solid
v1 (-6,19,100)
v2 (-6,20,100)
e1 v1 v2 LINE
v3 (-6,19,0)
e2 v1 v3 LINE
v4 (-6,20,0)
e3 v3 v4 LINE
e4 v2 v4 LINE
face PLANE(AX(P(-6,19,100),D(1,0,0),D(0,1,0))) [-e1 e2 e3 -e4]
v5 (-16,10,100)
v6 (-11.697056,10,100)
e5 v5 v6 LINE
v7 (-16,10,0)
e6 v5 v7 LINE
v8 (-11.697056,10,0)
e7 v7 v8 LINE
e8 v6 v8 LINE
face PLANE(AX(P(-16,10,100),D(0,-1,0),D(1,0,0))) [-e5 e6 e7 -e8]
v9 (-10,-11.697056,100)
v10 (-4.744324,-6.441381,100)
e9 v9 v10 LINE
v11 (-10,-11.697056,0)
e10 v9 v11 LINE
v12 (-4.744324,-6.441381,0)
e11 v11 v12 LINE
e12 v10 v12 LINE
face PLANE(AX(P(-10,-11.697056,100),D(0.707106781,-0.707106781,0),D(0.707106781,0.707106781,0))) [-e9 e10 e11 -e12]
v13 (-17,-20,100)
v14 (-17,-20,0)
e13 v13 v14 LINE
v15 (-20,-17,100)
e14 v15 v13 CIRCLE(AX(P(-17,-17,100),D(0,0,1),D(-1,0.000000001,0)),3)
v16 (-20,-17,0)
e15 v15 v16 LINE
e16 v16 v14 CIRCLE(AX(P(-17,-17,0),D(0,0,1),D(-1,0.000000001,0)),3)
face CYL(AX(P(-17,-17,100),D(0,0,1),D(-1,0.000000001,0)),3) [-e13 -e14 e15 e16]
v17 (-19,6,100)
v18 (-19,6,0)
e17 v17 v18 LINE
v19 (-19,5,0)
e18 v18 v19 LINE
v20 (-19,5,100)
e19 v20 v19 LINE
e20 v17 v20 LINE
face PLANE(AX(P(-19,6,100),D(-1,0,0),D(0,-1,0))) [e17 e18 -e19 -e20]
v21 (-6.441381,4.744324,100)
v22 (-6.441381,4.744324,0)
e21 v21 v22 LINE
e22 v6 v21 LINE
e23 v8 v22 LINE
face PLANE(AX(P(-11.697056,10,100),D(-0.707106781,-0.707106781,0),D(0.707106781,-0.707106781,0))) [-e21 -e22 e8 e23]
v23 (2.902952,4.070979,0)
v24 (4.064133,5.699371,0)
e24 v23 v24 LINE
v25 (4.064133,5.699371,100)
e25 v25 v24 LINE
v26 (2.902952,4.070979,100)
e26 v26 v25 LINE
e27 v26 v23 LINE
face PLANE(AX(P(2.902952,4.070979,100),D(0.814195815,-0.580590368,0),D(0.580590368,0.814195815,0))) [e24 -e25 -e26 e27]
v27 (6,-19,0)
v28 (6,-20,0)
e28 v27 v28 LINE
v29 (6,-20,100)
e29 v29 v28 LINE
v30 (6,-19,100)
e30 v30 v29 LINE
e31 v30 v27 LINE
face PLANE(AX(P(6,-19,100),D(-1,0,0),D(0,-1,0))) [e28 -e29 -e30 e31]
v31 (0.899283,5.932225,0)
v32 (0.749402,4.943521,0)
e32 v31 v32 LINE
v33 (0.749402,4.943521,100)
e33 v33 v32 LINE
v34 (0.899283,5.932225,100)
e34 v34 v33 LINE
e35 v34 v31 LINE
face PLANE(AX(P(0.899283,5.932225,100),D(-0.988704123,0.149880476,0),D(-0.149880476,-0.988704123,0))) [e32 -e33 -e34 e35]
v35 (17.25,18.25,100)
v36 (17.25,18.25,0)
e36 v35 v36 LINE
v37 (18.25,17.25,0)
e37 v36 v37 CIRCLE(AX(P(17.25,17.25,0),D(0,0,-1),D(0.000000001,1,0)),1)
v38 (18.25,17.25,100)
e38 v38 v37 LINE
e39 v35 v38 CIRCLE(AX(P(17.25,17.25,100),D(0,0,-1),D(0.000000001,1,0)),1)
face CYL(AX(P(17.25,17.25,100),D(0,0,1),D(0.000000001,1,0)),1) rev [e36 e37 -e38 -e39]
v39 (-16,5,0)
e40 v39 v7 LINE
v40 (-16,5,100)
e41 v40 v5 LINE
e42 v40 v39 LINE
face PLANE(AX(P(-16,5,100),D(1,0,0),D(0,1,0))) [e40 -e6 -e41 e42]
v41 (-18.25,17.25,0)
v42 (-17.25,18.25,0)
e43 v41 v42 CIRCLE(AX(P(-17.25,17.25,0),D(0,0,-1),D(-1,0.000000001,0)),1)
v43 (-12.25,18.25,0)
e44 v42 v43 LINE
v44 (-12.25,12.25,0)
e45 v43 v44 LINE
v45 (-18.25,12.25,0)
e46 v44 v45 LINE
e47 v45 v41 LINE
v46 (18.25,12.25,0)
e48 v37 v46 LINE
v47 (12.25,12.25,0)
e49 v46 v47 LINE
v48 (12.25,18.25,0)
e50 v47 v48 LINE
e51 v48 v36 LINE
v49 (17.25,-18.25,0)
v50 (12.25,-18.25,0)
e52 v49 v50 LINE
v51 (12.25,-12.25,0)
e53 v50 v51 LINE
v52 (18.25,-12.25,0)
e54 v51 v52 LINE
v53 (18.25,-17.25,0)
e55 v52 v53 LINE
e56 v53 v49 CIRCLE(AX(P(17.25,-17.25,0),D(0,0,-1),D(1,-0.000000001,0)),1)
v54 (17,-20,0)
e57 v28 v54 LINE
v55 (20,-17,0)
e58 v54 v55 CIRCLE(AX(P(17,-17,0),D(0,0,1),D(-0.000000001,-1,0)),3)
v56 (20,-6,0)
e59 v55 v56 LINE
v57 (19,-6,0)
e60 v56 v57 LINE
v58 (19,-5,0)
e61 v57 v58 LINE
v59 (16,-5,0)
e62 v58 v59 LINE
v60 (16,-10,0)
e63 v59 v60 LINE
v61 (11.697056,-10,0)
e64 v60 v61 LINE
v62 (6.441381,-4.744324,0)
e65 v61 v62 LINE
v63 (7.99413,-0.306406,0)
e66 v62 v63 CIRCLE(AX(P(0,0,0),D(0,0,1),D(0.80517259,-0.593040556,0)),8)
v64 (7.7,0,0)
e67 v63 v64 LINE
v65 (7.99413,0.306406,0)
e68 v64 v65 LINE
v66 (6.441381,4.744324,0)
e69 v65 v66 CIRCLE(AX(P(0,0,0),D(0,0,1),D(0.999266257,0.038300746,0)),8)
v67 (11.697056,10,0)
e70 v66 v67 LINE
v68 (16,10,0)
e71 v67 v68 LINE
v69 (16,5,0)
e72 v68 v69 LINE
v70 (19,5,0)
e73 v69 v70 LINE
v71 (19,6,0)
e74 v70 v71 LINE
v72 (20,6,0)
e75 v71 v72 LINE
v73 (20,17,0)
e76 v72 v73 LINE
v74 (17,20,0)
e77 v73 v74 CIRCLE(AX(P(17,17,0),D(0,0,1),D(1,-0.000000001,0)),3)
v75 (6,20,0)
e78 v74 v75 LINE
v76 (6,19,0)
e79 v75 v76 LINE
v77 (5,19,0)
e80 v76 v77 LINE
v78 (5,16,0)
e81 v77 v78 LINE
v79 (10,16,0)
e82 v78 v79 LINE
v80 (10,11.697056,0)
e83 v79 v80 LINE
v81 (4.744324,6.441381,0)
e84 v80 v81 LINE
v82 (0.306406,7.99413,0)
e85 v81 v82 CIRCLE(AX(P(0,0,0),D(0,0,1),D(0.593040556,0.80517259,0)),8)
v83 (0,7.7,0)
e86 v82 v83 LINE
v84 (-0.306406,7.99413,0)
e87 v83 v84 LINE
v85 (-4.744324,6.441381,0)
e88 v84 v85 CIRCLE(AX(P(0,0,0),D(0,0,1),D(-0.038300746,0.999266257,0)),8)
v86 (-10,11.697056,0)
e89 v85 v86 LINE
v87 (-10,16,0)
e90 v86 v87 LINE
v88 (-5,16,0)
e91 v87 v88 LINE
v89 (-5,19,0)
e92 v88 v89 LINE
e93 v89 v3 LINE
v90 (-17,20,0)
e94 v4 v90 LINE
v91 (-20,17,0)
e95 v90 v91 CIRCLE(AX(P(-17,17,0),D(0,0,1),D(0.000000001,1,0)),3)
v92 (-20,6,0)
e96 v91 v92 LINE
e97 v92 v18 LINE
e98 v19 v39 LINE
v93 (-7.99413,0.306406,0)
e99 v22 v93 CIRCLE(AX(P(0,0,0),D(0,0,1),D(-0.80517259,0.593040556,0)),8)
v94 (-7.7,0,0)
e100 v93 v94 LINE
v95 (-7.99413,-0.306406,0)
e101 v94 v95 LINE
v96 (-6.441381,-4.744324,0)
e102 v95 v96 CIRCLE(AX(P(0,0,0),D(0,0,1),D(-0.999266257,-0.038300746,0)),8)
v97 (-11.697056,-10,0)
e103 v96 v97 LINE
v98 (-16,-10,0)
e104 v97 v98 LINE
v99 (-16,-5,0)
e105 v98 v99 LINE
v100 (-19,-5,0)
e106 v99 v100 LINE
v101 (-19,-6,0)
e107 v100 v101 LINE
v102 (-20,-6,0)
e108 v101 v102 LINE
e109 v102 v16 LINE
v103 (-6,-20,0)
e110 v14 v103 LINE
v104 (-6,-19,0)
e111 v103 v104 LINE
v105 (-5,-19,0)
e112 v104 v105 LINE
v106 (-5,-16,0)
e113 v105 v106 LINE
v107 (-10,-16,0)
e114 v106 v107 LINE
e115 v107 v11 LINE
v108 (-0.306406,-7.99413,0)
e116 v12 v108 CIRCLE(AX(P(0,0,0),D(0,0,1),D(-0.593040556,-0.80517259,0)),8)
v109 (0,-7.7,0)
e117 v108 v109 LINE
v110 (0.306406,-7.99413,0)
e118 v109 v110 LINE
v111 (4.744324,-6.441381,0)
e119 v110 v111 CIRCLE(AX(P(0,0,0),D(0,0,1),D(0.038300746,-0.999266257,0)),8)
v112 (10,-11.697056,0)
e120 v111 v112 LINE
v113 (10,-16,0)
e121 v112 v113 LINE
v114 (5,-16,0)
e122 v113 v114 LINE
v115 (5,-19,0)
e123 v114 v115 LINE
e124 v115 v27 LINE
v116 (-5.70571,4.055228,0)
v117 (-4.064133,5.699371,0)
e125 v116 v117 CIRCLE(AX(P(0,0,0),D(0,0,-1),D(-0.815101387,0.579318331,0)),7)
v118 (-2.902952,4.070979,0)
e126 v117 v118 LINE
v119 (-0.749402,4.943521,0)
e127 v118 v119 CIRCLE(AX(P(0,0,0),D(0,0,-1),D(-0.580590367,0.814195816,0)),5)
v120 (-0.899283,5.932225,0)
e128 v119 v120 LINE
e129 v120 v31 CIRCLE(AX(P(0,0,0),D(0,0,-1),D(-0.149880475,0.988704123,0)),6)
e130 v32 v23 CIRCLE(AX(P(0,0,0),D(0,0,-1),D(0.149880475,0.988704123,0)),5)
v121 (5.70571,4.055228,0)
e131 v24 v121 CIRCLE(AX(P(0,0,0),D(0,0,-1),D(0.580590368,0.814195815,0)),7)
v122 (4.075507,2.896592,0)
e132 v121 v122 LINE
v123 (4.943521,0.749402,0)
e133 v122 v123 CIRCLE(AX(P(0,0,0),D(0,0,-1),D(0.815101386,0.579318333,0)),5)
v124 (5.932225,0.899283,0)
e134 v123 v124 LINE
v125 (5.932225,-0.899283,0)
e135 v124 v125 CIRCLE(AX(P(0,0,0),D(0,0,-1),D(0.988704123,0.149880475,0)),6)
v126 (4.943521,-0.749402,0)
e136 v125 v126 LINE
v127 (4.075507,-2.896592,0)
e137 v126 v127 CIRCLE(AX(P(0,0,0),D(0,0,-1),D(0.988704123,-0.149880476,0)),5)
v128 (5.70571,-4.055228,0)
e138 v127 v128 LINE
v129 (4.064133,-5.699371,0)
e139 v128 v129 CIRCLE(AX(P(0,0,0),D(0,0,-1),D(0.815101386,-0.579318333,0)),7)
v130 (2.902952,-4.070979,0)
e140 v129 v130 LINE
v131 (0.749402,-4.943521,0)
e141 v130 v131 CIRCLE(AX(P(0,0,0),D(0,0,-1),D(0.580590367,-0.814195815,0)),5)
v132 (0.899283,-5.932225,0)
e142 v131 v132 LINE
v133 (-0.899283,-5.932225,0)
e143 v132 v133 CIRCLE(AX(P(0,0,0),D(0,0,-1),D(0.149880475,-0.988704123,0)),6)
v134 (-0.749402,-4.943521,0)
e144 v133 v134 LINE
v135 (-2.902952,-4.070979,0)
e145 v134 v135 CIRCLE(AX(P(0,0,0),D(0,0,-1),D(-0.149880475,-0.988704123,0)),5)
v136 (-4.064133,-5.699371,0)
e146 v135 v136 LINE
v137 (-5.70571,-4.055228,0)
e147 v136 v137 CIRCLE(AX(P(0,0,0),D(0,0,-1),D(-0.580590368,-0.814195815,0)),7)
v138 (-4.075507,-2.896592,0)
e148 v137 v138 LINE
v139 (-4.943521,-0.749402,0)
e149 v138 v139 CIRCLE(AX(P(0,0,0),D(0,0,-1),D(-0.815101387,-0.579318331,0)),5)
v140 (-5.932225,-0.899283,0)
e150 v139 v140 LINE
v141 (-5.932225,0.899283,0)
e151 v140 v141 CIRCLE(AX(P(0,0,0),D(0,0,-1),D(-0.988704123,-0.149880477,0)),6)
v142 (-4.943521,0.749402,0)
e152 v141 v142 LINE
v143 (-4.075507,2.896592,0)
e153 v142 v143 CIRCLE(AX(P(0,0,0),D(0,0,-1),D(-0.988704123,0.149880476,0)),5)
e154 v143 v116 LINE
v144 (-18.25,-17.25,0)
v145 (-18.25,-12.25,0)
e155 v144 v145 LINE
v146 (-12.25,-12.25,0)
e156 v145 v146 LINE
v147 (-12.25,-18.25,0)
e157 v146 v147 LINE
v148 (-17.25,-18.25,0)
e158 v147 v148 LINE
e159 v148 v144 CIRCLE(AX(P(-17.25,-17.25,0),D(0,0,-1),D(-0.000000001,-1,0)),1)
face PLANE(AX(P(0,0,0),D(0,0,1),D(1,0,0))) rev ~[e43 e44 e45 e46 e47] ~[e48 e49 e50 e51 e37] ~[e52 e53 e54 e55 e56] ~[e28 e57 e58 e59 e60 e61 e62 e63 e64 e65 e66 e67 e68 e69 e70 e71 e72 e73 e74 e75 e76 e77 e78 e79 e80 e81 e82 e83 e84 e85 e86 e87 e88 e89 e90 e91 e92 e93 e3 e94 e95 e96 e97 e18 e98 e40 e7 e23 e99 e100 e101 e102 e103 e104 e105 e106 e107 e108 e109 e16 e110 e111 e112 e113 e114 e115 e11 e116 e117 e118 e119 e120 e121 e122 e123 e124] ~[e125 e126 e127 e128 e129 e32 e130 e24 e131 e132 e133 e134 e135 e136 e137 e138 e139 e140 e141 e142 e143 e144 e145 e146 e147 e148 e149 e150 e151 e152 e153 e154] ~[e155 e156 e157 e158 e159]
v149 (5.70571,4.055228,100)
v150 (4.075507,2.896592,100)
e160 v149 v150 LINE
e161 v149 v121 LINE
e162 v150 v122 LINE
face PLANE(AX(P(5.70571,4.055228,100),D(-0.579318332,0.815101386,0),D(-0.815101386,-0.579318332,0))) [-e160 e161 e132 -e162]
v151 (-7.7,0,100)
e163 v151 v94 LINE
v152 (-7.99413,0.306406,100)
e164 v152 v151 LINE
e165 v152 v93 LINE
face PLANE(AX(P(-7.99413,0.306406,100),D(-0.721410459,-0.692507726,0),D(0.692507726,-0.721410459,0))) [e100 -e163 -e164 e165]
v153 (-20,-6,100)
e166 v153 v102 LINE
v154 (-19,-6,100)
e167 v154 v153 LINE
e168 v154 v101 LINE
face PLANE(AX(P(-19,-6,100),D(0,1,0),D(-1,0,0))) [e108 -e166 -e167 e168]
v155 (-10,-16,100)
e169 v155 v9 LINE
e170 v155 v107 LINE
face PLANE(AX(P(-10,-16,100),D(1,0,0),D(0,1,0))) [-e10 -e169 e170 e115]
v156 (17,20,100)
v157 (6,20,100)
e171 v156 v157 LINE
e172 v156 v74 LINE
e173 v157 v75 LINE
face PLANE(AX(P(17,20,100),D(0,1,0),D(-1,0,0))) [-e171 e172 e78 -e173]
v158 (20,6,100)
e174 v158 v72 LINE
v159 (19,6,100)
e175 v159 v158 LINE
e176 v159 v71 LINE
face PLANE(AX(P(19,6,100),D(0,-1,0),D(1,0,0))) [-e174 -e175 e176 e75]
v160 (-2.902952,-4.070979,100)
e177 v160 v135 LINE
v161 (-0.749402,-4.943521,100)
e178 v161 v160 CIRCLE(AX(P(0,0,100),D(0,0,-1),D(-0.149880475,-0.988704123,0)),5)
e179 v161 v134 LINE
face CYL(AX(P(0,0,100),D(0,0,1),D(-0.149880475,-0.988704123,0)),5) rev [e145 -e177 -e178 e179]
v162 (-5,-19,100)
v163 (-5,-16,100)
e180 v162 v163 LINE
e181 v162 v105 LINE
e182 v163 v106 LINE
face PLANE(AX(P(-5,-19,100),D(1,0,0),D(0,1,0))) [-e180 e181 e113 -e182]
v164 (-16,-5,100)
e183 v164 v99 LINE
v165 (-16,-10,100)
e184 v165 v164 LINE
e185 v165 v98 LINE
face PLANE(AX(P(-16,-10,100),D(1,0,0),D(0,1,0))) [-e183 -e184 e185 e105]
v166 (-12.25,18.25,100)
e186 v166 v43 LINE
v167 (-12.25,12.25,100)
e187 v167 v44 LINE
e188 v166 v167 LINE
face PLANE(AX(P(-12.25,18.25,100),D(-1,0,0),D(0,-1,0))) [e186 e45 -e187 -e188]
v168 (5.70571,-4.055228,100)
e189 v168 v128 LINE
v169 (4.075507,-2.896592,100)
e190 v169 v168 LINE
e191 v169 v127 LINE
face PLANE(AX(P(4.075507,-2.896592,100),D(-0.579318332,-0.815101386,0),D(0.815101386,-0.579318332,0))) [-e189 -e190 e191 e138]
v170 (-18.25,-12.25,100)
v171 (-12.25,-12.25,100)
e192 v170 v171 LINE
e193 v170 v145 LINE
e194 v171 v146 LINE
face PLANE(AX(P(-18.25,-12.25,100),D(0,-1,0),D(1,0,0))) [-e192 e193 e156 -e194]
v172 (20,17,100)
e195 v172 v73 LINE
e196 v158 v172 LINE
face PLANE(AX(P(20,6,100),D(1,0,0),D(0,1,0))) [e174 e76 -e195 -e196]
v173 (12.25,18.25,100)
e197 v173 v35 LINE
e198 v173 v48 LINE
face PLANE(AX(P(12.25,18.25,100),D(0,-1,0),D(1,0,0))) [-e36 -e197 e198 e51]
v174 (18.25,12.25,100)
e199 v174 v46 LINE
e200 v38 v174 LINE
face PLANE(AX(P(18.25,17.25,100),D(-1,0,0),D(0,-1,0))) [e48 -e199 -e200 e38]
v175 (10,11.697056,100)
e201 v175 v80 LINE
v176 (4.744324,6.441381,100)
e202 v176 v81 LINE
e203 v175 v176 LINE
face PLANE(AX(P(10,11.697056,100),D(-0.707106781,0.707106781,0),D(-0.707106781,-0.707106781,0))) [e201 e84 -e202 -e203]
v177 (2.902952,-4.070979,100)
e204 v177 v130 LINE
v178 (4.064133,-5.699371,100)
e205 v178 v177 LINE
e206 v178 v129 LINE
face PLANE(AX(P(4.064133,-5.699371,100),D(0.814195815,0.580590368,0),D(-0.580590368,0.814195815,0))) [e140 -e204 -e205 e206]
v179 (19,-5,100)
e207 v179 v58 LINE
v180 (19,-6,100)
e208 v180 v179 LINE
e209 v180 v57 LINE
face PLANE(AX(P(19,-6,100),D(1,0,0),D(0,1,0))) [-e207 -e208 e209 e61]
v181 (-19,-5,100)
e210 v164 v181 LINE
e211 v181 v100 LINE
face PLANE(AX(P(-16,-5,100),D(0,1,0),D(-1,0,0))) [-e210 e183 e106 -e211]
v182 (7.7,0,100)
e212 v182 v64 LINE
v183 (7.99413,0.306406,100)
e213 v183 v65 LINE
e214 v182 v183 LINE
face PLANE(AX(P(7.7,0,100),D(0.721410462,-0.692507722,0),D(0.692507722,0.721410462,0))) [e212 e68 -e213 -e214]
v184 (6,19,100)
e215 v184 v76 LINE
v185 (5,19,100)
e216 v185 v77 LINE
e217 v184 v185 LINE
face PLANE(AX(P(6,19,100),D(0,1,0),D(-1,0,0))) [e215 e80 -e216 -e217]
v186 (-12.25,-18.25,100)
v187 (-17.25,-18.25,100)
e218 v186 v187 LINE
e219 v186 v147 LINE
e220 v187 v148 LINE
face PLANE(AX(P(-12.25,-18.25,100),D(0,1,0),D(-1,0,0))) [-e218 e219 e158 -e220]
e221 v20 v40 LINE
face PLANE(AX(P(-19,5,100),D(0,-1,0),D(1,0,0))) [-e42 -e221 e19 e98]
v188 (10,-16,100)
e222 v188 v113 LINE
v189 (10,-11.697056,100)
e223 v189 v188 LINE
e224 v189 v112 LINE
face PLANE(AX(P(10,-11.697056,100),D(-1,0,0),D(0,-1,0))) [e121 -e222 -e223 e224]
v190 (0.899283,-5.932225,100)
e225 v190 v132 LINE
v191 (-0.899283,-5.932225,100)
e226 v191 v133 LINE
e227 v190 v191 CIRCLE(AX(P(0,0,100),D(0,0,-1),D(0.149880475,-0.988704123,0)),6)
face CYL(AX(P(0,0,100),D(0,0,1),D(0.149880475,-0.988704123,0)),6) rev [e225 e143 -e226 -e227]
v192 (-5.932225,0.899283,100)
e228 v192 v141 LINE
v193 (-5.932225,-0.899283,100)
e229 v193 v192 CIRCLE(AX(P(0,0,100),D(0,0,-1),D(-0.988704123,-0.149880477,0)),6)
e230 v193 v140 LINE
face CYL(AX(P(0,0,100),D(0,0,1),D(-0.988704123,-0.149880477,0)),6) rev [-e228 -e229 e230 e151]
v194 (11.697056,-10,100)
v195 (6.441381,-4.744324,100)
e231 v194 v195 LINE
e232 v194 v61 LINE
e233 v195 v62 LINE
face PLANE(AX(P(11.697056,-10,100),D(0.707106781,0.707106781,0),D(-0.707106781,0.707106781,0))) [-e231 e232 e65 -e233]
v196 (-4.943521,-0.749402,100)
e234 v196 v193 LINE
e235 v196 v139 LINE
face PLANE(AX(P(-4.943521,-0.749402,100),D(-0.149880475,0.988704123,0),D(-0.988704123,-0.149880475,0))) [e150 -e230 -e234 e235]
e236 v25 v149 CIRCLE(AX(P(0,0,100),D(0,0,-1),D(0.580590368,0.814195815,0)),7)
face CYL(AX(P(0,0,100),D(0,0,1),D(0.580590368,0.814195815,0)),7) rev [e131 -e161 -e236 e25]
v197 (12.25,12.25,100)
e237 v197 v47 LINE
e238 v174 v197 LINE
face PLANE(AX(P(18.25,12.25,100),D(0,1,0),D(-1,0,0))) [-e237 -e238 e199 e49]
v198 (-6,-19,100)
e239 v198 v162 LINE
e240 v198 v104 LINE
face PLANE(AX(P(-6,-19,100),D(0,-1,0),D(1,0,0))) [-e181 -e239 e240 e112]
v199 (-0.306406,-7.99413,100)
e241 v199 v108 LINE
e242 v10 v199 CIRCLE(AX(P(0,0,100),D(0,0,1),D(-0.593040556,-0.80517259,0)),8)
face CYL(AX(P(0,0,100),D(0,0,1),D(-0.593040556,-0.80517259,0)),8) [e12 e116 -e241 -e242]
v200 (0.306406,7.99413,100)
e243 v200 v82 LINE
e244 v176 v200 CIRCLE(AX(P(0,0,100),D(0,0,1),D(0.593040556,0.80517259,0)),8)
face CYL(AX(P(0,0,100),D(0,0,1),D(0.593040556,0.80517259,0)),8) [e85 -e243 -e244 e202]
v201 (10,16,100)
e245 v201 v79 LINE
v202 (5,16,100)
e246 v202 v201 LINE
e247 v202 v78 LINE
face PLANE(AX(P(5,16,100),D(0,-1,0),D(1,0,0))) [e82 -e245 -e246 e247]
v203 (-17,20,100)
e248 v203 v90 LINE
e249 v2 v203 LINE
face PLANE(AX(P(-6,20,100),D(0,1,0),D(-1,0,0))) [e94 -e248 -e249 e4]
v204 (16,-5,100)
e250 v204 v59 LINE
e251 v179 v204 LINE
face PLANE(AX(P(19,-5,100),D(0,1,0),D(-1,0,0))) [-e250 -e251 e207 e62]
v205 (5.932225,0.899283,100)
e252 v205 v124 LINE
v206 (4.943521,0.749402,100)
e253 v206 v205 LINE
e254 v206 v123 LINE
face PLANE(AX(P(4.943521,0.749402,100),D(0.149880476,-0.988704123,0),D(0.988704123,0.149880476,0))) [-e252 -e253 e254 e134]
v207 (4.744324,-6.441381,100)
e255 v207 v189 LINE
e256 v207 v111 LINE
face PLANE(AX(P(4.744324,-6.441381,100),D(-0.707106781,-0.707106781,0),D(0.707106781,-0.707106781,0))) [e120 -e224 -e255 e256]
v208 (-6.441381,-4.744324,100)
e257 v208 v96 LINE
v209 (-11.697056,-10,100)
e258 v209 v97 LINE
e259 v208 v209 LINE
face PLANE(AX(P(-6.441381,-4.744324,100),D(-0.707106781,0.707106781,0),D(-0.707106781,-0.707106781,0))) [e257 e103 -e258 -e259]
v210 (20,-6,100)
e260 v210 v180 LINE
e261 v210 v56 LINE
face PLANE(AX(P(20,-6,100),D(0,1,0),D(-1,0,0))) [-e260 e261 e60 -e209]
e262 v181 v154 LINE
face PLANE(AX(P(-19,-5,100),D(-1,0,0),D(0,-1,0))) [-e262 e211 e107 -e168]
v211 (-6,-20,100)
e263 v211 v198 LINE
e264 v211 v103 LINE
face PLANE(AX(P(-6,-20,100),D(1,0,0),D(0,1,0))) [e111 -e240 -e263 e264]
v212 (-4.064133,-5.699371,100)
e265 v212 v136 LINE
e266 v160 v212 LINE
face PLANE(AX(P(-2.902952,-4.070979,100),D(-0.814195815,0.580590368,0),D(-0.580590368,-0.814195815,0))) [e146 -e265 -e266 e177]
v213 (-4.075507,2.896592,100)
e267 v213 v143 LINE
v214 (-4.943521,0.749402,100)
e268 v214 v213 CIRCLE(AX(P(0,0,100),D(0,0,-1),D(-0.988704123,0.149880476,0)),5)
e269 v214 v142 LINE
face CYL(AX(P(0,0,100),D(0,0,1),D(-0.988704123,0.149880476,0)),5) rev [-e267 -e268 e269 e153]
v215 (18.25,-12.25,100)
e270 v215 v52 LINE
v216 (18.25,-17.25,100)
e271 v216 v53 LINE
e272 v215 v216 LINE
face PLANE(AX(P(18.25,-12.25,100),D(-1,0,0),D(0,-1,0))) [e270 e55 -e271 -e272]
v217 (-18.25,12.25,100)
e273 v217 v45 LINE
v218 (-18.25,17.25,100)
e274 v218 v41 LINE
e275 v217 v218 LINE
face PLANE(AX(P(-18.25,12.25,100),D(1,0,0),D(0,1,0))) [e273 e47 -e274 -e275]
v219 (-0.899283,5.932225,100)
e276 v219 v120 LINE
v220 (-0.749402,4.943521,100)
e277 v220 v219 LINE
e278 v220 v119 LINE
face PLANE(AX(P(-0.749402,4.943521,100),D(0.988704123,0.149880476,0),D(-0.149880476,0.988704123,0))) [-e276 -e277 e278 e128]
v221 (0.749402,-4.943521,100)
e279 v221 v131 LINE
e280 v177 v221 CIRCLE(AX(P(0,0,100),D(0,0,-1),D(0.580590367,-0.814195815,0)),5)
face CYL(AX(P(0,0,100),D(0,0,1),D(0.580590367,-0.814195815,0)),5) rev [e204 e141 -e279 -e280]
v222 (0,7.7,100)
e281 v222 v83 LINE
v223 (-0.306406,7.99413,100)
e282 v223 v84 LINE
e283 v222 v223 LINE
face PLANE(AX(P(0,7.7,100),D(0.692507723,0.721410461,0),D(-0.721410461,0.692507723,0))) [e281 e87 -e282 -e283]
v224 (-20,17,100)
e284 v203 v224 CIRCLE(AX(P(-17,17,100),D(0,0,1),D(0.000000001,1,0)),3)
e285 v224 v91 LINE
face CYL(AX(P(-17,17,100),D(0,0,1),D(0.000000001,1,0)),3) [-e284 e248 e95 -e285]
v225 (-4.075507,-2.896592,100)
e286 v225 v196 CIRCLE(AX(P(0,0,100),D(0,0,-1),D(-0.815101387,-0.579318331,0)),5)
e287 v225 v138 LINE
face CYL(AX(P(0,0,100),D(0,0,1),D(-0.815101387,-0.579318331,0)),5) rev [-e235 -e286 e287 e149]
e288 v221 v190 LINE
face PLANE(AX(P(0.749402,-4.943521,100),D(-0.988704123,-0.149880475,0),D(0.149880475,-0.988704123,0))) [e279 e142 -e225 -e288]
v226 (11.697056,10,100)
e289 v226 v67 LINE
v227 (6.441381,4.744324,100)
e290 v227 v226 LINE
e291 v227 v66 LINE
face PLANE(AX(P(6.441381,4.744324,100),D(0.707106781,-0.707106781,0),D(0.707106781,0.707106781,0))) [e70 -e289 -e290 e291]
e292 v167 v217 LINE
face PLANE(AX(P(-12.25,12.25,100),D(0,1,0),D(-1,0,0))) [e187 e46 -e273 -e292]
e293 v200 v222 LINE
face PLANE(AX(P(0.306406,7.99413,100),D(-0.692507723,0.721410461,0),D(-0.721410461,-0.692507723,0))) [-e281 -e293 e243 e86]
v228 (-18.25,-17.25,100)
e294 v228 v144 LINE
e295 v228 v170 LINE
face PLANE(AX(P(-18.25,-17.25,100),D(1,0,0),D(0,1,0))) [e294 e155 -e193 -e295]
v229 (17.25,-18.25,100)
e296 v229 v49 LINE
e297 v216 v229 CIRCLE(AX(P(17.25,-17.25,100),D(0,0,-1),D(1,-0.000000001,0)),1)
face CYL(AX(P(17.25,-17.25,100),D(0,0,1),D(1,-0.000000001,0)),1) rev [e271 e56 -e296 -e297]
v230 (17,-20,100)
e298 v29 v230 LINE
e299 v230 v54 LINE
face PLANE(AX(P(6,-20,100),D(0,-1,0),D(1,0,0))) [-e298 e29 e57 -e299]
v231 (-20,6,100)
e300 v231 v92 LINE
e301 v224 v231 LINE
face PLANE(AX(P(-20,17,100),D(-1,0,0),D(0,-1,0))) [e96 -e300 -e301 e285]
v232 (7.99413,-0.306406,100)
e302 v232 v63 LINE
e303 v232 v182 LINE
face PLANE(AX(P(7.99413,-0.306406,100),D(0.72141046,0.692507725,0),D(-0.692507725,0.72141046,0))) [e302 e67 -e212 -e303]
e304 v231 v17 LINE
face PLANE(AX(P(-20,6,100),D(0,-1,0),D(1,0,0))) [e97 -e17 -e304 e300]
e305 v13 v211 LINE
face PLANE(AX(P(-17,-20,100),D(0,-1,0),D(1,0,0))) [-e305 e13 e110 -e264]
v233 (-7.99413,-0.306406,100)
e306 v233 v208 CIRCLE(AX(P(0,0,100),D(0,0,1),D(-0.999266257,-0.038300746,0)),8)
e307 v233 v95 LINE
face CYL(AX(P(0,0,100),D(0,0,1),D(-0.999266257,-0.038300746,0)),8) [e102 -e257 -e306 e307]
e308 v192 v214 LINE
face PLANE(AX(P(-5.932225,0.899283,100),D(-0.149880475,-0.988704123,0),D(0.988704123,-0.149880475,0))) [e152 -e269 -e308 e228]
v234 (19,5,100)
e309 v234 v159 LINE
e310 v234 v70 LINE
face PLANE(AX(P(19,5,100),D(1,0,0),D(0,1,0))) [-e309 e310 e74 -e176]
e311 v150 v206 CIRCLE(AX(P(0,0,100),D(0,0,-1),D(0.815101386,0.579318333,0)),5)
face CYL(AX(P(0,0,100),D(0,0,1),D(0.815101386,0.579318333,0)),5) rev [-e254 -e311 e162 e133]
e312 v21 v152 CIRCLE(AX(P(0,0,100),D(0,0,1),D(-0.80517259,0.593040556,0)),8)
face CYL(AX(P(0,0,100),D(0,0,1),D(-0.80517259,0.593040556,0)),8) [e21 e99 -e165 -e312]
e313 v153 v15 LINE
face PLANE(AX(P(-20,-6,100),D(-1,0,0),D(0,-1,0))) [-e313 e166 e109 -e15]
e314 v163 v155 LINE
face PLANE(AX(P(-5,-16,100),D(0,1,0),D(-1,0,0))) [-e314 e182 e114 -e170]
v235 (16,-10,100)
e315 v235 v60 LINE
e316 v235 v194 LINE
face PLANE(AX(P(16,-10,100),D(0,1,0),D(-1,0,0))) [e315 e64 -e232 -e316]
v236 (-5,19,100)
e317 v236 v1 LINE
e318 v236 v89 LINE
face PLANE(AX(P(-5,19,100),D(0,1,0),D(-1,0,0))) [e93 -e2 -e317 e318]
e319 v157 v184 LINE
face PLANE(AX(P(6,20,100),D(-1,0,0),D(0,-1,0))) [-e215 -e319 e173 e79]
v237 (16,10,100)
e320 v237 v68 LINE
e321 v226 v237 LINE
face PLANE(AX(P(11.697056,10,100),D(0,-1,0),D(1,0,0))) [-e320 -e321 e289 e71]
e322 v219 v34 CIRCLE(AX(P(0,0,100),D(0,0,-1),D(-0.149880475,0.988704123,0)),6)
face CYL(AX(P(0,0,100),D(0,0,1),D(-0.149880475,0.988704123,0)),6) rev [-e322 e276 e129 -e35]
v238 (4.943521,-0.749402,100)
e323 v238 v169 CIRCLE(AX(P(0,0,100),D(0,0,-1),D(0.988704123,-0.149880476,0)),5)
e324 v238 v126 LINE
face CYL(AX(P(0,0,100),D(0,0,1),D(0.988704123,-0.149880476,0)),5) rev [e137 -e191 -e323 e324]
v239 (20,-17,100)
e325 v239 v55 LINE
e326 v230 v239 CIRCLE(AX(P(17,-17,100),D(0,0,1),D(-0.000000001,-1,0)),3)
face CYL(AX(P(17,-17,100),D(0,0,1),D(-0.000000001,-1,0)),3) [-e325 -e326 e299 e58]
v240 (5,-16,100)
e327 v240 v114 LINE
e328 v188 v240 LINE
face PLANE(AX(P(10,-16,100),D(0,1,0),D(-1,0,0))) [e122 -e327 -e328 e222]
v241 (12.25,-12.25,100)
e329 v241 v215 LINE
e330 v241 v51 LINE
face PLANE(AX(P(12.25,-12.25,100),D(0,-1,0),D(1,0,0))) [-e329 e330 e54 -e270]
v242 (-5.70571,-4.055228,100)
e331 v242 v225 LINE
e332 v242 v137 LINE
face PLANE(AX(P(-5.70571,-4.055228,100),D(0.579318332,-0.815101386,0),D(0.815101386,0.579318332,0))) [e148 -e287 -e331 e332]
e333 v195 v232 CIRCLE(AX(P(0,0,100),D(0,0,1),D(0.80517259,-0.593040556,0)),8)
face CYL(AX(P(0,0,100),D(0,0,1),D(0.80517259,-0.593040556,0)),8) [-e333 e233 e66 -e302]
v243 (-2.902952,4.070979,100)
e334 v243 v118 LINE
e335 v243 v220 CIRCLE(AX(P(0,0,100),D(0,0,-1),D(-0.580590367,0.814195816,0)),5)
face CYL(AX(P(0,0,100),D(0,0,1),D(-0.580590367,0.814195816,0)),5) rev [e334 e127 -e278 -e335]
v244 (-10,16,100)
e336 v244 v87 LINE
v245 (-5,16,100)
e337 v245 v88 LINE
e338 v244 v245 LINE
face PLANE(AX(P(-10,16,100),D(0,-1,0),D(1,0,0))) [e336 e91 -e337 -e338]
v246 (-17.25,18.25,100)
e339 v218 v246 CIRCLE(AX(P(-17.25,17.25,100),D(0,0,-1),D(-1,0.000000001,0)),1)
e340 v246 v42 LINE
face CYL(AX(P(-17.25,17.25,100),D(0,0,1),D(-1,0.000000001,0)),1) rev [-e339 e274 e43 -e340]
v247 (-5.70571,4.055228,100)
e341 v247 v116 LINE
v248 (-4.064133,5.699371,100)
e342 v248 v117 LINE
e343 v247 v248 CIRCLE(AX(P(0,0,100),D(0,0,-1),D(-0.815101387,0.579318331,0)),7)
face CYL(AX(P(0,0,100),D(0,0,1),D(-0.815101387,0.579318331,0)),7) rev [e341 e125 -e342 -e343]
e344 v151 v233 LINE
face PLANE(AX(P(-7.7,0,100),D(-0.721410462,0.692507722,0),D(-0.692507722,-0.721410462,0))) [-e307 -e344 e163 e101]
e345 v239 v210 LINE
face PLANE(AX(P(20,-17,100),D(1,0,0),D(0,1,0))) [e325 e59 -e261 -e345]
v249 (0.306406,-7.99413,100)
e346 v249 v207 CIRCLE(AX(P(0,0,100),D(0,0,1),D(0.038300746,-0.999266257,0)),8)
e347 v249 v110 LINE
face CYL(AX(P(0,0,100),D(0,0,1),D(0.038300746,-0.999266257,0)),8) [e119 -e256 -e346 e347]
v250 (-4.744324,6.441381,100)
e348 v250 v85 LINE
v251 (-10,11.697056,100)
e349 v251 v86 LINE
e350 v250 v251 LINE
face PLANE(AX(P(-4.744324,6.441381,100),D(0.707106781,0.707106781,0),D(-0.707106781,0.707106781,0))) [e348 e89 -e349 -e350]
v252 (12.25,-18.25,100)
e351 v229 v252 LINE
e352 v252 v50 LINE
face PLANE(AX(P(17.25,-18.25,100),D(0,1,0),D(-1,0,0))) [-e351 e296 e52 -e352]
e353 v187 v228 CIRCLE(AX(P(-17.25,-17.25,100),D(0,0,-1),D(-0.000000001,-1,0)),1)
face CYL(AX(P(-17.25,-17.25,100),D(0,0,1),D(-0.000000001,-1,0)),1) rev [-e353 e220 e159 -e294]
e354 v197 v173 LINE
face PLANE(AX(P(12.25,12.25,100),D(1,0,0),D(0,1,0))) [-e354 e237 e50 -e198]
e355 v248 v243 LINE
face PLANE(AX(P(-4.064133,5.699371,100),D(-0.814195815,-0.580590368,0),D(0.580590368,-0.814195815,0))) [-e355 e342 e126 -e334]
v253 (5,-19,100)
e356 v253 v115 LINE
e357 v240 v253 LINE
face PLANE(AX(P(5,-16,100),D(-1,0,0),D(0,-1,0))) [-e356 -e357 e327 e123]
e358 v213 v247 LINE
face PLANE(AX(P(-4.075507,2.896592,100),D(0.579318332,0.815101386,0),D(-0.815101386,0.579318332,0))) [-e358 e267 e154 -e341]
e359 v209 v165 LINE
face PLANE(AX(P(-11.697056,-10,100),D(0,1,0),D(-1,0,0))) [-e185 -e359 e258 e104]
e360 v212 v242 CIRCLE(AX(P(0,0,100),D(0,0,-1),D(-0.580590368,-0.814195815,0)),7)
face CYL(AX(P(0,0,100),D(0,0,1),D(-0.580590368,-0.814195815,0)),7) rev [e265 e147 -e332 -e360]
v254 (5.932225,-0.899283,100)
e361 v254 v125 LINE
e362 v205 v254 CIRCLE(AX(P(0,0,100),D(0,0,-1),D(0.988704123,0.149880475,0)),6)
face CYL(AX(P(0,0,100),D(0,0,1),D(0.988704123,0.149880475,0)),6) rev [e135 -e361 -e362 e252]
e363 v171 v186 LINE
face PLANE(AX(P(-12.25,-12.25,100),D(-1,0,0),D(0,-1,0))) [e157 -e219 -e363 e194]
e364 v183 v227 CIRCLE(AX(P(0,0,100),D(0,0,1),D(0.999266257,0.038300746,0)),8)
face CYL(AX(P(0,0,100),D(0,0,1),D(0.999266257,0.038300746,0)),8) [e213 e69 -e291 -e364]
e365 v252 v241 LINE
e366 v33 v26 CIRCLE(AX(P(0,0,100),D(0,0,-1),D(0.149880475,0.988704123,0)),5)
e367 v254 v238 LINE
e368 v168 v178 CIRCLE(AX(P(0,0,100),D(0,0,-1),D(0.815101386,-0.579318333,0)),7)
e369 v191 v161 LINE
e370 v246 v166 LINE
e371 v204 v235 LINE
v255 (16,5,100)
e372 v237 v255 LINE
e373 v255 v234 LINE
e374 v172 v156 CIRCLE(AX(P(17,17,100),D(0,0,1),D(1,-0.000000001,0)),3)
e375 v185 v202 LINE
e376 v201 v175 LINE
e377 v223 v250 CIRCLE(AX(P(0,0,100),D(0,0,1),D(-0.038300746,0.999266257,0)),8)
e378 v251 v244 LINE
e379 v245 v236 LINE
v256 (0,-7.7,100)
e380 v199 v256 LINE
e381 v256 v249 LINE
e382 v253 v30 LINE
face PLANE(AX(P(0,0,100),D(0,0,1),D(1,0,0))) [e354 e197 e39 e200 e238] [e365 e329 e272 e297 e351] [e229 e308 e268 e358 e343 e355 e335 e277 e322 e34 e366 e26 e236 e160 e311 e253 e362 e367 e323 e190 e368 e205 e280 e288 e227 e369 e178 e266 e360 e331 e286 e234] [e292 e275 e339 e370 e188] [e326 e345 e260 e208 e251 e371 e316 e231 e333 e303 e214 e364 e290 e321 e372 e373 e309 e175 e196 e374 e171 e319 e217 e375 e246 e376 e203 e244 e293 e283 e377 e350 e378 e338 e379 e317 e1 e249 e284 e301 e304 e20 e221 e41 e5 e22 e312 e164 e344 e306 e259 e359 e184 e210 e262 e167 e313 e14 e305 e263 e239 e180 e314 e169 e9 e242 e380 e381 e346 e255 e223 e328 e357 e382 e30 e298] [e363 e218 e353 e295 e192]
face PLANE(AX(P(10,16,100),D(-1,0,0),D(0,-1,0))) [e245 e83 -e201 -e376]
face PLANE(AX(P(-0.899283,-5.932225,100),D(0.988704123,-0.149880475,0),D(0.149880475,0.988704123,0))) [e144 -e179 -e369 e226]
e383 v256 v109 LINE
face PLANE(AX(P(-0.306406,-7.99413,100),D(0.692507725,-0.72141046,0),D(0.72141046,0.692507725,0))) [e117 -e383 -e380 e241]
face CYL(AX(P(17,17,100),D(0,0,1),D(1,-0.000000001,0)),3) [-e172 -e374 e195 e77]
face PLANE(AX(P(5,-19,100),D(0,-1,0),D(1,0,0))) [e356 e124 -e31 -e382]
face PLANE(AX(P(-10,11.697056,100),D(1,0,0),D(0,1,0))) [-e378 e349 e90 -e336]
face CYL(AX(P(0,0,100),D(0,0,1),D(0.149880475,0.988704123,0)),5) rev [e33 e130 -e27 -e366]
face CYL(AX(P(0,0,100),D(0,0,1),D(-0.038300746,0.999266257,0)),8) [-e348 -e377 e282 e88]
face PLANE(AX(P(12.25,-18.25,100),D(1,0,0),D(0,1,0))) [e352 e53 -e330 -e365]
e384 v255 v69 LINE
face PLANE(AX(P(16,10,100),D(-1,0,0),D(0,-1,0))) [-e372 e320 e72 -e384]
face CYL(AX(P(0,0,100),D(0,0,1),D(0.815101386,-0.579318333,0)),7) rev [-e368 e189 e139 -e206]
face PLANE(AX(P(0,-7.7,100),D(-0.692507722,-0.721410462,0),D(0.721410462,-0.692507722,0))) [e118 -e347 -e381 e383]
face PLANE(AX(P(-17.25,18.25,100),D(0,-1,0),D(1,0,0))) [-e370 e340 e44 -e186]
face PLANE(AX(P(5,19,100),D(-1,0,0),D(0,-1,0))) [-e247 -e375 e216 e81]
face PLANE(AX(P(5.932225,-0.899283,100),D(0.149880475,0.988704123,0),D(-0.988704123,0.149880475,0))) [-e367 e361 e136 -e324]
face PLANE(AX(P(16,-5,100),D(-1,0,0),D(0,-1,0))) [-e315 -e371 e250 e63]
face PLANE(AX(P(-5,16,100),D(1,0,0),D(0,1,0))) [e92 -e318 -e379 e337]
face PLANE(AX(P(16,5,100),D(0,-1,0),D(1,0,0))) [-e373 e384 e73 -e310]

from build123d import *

# Parameters (mm, degrees)
Y_KSEKLIK_EKSTR_ZYON1_DEPTH = 100


with BuildPart() as part:
    # Çizim1 → Yükseklik-Ekstrüzyon1 (new body)
    with BuildSketch(Plane.XY.offset(100)):
        with BuildLine():
            Line((6, -19), (6, -20))
            Line((6, -20), (17, -20))
            ThreePointArc((17, -20), (19.121320344, -19.121320344), (20, -17))
            Line((20, -17), (20, -6))
            Line((20, -6), (19, -6))
            Line((19, -6), (19, -5))
            Line((19, -5), (16.000000001, -5))
            Line((16.000000001, -5), (16.000000001, -10))
            Line((16.000000001, -10), (11.697056277, -10))
            Line((11.697056277, -10), (6.44138072, -4.744324444))
            ThreePointArc((6.44138072, -4.744324444), (7.551143818, -2.642011933), (7.994130058, -0.306405969))
            Line((7.994130058, -0.306405969), (7.7, 0))
            Line((7.7, 0), (7.994130058, 0.306405971))
            ThreePointArc((7.994130058, 0.306405971), (7.551143817, 2.642011934), (6.441380719, 4.744324444))
            Line((6.441380719, 4.744324444), (11.697056275, 10))
            Line((11.697056275, 10), (16.000000001, 10))
            Line((16.000000001, 10), (16.000000001, 5))
            Line((16.000000001, 5), (19, 5))
            Line((19, 5), (19, 6))
            Line((19, 6), (20, 6))
            Line((20, 6), (20, 17))
            ThreePointArc((20, 17), (19.121320344, 19.121320344), (17, 20))
            Line((17, 20), (6, 20))
            Line((6, 20), (6, 19))
            Line((6, 19), (5, 19))
            Line((5, 19), (5, 15.999999999))
            Line((5, 15.999999999), (10.000000001, 15.999999999))
            Line((10.000000001, 15.999999999), (10.000000001, 11.697056275))
            Line((10.000000001, 11.697056275), (4.744324444, 6.441380719))
            ThreePointArc((4.744324444, 6.441380719), (2.642011933, 7.551143817), (0.30640597, 7.994130058))
            Line((0.30640597, 7.994130058), (0, 7.7))
            Line((0, 7.7), (-0.30640597, 7.994130058))
            ThreePointArc((-0.30640597, 7.994130058), (-2.642011933, 7.551143817), (-4.744324444, 6.441380719))
            Line((-4.744324444, 6.441380719), (-9.999999999, 11.697056274))
            Line((-9.999999999, 11.697056274), (-9.999999999, 15.999999999))
            Line((-9.999999999, 15.999999999), (-5, 15.999999999))
            Line((-5, 15.999999999), (-5, 19))
            Line((-5, 19), (-6, 19))
            Line((-6, 19), (-6, 20))
            Line((-6, 20), (-17, 20))
            ThreePointArc((-17, 20), (-19.121320344, 19.121320344), (-20, 17))
            Line((-20, 17), (-20, 6))
            Line((-20, 6), (-19, 6))
            Line((-19, 6), (-19, 5))
            Line((-19, 5), (-15.999999999, 5))
            Line((-15.999999999, 5), (-15.999999999, 10))
            Line((-15.999999999, 10), (-11.697056274, 10))
            Line((-11.697056274, 10), (-6.441380718, 4.744324445))
            ThreePointArc((-6.441380718, 4.744324445), (-7.551143817, 2.642011933), (-7.994130058, 0.306405969))
            Line((-7.994130058, 0.306405969), (-7.699999999, 0))
            Line((-7.699999999, 0), (-7.994130057, -0.306405971))
            ThreePointArc((-7.994130057, -0.306405971), (-7.551143816, -2.642011934), (-6.441380719, -4.744324444))
            Line((-6.441380719, -4.744324444), (-11.697056274, -10))
            Line((-11.697056274, -10), (-15.999999999, -10))
            Line((-15.999999999, -10), (-15.999999999, -5))
            Line((-15.999999999, -5), (-19, -5))
            Line((-19, -5), (-19, -6))
            Line((-19, -6), (-20, -6))
            Line((-20, -6), (-20, -17))
            ThreePointArc((-20, -17), (-19.121320344, -19.121320344), (-17, -20))
            Line((-17, -20), (-6, -20))
            Line((-6, -20), (-6, -19))
            Line((-6, -19), (-5, -19))
            Line((-5, -19), (-5, -16.000000001))
            Line((-5, -16.000000001), (-9.999999999, -16.000000001))
            Line((-9.999999999, -16.000000001), (-9.999999999, -11.697056274))
            Line((-9.999999999, -11.697056274), (-4.744324444, -6.441380719))
            ThreePointArc((-4.744324444, -6.441380719), (-2.642011933, -7.551143817), (-0.306405969, -7.994130058))
            Line((-0.306405969, -7.994130058), (0, -7.7))
            Line((0, -7.7), (0.306405971, -7.994130058))
            ThreePointArc((0.306405971, -7.994130058), (2.642011934, -7.551143817), (4.744324445, -6.441380719))
            Line((4.744324445, -6.441380719), (10.000000001, -11.697056274))
            Line((10.000000001, -11.697056274), (10.000000001, -16.000000001))
            Line((10.000000001, -16.000000001), (5, -16.000000001))
            Line((5, -16.000000001), (5, -19))
            Line((5, -19), (6, -19))
        make_face()
        with BuildLine():
            Line((18.25, 12.25), (12.25, 12.25))
            Line((12.25, 12.25), (12.25, 18.25))
            Line((12.25, 18.25), (17.25, 18.25))
            ThreePointArc((17.25, 18.25), (17.957106781, 17.957106781), (18.25, 17.25))
            Line((18.25, 17.25), (18.25, 12.25))
        make_face(mode=Mode.SUBTRACT)
        with BuildLine():
            Line((-18.25, -12.25), (-12.25, -12.25))
            Line((-12.25, -12.25), (-12.25, -18.25))
            Line((-12.25, -18.25), (-17.25, -18.25))
            ThreePointArc((-17.25, -18.25), (-17.957106781, -17.957106781), (-18.25, -17.25))
            Line((-18.25, -17.25), (-18.25, -12.25))
        make_face(mode=Mode.SUBTRACT)
        with BuildLine():
            Line((-12.25, 18.25), (-12.25, 12.25))
            Line((-12.25, 12.25), (-18.25, 12.25))
            Line((-18.25, 12.25), (-18.25, 17.25))
            ThreePointArc((-18.25, 17.25), (-17.957106781, 17.957106781), (-17.25, 18.25))
            Line((-17.25, 18.25), (-12.25, 18.25))
        make_face(mode=Mode.SUBTRACT)
        with BuildLine():
            Line((12.25, -18.25), (12.25, -12.25))
            Line((12.25, -12.25), (18.25, -12.25))
            Line((18.25, -12.25), (18.25, -17.25))
            ThreePointArc((18.25, -17.25), (17.957106781, -17.957106781), (17.25, -18.25))
            Line((17.25, -18.25), (12.25, -18.25))
        make_face(mode=Mode.SUBTRACT)
        with BuildLine():
            Line((-5.705709703, -4.055228326), (-4.075506937, -2.896591666))
            ThreePointArc((-4.075506937, -2.896591666), (-4.635549588, -1.873947726), (-4.943520622, -0.749402378))
            Line((-4.943520622, -0.749402378), (-5.932224738, -0.899282852))
            ThreePointArc((-5.932224738, -0.899282852), (-6, 0), (-5.932224738, 0.899282853))
            Line((-5.932224738, 0.899282853), (-4.943520622, 0.749402379))
            ThreePointArc((-4.943520622, 0.749402379), (-4.635549588, 1.873947727), (-4.075506937, 2.896591666))
            Line((-4.075506937, 2.896591666), (-5.705709703, 4.055228326))
            ThreePointArc((-5.705709703, 4.055228326), (-4.953610357, 4.945881563), (-4.064132573, 5.699370705))
            Line((-4.064132573, 5.699370705), (-2.902951842, 4.070979081))
            ThreePointArc((-2.902951842, 4.070979081), (-1.877566249, 4.634085136), (-0.749402377, 4.943520623))
            Line((-0.749402377, 4.943520623), (-0.899282852, 5.932224739))
            ThreePointArc((-0.899282852, 5.932224739), (0, 6), (0.899282852, 5.932224739))
            Line((0.899282852, 5.932224739), (0.749402377, 4.943520623))
            ThreePointArc((0.749402377, 4.943520623), (1.87756625, 4.634085136), (2.902951843, 4.07097908))
            Line((2.902951843, 4.07097908), (4.064132575, 5.699370704))
            ThreePointArc((4.064132575, 5.699370704), (4.953610358, 4.945881562), (5.705709704, 4.055228326))
            Line((5.705709704, 4.055228326), (4.075506937, 2.896591666))
            ThreePointArc((4.075506937, 2.896591666), (4.635549589, 1.873947727), (4.943520623, 0.749402378))
            Line((4.943520623, 0.749402378), (5.932224739, 0.899282853))
            ThreePointArc((5.932224739, 0.899282853), (6, 0), (5.932224739, -0.899282853))
            Line((5.932224739, -0.899282853), (4.943520623, -0.749402379))
            ThreePointArc((4.943520623, -0.749402379), (4.635549589, -1.873947727), (4.075506938, -2.896591666))
            Line((4.075506938, -2.896591666), (5.705709704, -4.055228326))
            ThreePointArc((5.705709704, -4.055228326), (4.953610357, -4.945881562), (4.064132573, -5.699370705))
            Line((4.064132573, -5.699370705), (2.902951842, -4.070979081))
            ThreePointArc((2.902951842, -4.070979081), (1.87756625, -4.634085136), (0.749402378, -4.943520623))
            Line((0.749402378, -4.943520623), (0.899282852, -5.932224739))
            ThreePointArc((0.899282852, -5.932224739), (1e-09, -6), (-0.899282851, -5.932224739))
            Line((-0.899282851, -5.932224739), (-0.749402377, -4.943520623))
            ThreePointArc((-0.749402377, -4.943520623), (-1.87756625, -4.634085136), (-2.902951843, -4.07097908))
            Line((-2.902951843, -4.07097908), (-4.064132574, -5.699370704))
            ThreePointArc((-4.064132574, -5.699370704), (-4.953610357, -4.945881562), (-5.705709703, -4.055228326))
        make_face(mode=Mode.SUBTRACT)
    extrude(amount=-Y_KSEKLIK_EKSTR_ZYON1_DEPTH)


solid = part.part
